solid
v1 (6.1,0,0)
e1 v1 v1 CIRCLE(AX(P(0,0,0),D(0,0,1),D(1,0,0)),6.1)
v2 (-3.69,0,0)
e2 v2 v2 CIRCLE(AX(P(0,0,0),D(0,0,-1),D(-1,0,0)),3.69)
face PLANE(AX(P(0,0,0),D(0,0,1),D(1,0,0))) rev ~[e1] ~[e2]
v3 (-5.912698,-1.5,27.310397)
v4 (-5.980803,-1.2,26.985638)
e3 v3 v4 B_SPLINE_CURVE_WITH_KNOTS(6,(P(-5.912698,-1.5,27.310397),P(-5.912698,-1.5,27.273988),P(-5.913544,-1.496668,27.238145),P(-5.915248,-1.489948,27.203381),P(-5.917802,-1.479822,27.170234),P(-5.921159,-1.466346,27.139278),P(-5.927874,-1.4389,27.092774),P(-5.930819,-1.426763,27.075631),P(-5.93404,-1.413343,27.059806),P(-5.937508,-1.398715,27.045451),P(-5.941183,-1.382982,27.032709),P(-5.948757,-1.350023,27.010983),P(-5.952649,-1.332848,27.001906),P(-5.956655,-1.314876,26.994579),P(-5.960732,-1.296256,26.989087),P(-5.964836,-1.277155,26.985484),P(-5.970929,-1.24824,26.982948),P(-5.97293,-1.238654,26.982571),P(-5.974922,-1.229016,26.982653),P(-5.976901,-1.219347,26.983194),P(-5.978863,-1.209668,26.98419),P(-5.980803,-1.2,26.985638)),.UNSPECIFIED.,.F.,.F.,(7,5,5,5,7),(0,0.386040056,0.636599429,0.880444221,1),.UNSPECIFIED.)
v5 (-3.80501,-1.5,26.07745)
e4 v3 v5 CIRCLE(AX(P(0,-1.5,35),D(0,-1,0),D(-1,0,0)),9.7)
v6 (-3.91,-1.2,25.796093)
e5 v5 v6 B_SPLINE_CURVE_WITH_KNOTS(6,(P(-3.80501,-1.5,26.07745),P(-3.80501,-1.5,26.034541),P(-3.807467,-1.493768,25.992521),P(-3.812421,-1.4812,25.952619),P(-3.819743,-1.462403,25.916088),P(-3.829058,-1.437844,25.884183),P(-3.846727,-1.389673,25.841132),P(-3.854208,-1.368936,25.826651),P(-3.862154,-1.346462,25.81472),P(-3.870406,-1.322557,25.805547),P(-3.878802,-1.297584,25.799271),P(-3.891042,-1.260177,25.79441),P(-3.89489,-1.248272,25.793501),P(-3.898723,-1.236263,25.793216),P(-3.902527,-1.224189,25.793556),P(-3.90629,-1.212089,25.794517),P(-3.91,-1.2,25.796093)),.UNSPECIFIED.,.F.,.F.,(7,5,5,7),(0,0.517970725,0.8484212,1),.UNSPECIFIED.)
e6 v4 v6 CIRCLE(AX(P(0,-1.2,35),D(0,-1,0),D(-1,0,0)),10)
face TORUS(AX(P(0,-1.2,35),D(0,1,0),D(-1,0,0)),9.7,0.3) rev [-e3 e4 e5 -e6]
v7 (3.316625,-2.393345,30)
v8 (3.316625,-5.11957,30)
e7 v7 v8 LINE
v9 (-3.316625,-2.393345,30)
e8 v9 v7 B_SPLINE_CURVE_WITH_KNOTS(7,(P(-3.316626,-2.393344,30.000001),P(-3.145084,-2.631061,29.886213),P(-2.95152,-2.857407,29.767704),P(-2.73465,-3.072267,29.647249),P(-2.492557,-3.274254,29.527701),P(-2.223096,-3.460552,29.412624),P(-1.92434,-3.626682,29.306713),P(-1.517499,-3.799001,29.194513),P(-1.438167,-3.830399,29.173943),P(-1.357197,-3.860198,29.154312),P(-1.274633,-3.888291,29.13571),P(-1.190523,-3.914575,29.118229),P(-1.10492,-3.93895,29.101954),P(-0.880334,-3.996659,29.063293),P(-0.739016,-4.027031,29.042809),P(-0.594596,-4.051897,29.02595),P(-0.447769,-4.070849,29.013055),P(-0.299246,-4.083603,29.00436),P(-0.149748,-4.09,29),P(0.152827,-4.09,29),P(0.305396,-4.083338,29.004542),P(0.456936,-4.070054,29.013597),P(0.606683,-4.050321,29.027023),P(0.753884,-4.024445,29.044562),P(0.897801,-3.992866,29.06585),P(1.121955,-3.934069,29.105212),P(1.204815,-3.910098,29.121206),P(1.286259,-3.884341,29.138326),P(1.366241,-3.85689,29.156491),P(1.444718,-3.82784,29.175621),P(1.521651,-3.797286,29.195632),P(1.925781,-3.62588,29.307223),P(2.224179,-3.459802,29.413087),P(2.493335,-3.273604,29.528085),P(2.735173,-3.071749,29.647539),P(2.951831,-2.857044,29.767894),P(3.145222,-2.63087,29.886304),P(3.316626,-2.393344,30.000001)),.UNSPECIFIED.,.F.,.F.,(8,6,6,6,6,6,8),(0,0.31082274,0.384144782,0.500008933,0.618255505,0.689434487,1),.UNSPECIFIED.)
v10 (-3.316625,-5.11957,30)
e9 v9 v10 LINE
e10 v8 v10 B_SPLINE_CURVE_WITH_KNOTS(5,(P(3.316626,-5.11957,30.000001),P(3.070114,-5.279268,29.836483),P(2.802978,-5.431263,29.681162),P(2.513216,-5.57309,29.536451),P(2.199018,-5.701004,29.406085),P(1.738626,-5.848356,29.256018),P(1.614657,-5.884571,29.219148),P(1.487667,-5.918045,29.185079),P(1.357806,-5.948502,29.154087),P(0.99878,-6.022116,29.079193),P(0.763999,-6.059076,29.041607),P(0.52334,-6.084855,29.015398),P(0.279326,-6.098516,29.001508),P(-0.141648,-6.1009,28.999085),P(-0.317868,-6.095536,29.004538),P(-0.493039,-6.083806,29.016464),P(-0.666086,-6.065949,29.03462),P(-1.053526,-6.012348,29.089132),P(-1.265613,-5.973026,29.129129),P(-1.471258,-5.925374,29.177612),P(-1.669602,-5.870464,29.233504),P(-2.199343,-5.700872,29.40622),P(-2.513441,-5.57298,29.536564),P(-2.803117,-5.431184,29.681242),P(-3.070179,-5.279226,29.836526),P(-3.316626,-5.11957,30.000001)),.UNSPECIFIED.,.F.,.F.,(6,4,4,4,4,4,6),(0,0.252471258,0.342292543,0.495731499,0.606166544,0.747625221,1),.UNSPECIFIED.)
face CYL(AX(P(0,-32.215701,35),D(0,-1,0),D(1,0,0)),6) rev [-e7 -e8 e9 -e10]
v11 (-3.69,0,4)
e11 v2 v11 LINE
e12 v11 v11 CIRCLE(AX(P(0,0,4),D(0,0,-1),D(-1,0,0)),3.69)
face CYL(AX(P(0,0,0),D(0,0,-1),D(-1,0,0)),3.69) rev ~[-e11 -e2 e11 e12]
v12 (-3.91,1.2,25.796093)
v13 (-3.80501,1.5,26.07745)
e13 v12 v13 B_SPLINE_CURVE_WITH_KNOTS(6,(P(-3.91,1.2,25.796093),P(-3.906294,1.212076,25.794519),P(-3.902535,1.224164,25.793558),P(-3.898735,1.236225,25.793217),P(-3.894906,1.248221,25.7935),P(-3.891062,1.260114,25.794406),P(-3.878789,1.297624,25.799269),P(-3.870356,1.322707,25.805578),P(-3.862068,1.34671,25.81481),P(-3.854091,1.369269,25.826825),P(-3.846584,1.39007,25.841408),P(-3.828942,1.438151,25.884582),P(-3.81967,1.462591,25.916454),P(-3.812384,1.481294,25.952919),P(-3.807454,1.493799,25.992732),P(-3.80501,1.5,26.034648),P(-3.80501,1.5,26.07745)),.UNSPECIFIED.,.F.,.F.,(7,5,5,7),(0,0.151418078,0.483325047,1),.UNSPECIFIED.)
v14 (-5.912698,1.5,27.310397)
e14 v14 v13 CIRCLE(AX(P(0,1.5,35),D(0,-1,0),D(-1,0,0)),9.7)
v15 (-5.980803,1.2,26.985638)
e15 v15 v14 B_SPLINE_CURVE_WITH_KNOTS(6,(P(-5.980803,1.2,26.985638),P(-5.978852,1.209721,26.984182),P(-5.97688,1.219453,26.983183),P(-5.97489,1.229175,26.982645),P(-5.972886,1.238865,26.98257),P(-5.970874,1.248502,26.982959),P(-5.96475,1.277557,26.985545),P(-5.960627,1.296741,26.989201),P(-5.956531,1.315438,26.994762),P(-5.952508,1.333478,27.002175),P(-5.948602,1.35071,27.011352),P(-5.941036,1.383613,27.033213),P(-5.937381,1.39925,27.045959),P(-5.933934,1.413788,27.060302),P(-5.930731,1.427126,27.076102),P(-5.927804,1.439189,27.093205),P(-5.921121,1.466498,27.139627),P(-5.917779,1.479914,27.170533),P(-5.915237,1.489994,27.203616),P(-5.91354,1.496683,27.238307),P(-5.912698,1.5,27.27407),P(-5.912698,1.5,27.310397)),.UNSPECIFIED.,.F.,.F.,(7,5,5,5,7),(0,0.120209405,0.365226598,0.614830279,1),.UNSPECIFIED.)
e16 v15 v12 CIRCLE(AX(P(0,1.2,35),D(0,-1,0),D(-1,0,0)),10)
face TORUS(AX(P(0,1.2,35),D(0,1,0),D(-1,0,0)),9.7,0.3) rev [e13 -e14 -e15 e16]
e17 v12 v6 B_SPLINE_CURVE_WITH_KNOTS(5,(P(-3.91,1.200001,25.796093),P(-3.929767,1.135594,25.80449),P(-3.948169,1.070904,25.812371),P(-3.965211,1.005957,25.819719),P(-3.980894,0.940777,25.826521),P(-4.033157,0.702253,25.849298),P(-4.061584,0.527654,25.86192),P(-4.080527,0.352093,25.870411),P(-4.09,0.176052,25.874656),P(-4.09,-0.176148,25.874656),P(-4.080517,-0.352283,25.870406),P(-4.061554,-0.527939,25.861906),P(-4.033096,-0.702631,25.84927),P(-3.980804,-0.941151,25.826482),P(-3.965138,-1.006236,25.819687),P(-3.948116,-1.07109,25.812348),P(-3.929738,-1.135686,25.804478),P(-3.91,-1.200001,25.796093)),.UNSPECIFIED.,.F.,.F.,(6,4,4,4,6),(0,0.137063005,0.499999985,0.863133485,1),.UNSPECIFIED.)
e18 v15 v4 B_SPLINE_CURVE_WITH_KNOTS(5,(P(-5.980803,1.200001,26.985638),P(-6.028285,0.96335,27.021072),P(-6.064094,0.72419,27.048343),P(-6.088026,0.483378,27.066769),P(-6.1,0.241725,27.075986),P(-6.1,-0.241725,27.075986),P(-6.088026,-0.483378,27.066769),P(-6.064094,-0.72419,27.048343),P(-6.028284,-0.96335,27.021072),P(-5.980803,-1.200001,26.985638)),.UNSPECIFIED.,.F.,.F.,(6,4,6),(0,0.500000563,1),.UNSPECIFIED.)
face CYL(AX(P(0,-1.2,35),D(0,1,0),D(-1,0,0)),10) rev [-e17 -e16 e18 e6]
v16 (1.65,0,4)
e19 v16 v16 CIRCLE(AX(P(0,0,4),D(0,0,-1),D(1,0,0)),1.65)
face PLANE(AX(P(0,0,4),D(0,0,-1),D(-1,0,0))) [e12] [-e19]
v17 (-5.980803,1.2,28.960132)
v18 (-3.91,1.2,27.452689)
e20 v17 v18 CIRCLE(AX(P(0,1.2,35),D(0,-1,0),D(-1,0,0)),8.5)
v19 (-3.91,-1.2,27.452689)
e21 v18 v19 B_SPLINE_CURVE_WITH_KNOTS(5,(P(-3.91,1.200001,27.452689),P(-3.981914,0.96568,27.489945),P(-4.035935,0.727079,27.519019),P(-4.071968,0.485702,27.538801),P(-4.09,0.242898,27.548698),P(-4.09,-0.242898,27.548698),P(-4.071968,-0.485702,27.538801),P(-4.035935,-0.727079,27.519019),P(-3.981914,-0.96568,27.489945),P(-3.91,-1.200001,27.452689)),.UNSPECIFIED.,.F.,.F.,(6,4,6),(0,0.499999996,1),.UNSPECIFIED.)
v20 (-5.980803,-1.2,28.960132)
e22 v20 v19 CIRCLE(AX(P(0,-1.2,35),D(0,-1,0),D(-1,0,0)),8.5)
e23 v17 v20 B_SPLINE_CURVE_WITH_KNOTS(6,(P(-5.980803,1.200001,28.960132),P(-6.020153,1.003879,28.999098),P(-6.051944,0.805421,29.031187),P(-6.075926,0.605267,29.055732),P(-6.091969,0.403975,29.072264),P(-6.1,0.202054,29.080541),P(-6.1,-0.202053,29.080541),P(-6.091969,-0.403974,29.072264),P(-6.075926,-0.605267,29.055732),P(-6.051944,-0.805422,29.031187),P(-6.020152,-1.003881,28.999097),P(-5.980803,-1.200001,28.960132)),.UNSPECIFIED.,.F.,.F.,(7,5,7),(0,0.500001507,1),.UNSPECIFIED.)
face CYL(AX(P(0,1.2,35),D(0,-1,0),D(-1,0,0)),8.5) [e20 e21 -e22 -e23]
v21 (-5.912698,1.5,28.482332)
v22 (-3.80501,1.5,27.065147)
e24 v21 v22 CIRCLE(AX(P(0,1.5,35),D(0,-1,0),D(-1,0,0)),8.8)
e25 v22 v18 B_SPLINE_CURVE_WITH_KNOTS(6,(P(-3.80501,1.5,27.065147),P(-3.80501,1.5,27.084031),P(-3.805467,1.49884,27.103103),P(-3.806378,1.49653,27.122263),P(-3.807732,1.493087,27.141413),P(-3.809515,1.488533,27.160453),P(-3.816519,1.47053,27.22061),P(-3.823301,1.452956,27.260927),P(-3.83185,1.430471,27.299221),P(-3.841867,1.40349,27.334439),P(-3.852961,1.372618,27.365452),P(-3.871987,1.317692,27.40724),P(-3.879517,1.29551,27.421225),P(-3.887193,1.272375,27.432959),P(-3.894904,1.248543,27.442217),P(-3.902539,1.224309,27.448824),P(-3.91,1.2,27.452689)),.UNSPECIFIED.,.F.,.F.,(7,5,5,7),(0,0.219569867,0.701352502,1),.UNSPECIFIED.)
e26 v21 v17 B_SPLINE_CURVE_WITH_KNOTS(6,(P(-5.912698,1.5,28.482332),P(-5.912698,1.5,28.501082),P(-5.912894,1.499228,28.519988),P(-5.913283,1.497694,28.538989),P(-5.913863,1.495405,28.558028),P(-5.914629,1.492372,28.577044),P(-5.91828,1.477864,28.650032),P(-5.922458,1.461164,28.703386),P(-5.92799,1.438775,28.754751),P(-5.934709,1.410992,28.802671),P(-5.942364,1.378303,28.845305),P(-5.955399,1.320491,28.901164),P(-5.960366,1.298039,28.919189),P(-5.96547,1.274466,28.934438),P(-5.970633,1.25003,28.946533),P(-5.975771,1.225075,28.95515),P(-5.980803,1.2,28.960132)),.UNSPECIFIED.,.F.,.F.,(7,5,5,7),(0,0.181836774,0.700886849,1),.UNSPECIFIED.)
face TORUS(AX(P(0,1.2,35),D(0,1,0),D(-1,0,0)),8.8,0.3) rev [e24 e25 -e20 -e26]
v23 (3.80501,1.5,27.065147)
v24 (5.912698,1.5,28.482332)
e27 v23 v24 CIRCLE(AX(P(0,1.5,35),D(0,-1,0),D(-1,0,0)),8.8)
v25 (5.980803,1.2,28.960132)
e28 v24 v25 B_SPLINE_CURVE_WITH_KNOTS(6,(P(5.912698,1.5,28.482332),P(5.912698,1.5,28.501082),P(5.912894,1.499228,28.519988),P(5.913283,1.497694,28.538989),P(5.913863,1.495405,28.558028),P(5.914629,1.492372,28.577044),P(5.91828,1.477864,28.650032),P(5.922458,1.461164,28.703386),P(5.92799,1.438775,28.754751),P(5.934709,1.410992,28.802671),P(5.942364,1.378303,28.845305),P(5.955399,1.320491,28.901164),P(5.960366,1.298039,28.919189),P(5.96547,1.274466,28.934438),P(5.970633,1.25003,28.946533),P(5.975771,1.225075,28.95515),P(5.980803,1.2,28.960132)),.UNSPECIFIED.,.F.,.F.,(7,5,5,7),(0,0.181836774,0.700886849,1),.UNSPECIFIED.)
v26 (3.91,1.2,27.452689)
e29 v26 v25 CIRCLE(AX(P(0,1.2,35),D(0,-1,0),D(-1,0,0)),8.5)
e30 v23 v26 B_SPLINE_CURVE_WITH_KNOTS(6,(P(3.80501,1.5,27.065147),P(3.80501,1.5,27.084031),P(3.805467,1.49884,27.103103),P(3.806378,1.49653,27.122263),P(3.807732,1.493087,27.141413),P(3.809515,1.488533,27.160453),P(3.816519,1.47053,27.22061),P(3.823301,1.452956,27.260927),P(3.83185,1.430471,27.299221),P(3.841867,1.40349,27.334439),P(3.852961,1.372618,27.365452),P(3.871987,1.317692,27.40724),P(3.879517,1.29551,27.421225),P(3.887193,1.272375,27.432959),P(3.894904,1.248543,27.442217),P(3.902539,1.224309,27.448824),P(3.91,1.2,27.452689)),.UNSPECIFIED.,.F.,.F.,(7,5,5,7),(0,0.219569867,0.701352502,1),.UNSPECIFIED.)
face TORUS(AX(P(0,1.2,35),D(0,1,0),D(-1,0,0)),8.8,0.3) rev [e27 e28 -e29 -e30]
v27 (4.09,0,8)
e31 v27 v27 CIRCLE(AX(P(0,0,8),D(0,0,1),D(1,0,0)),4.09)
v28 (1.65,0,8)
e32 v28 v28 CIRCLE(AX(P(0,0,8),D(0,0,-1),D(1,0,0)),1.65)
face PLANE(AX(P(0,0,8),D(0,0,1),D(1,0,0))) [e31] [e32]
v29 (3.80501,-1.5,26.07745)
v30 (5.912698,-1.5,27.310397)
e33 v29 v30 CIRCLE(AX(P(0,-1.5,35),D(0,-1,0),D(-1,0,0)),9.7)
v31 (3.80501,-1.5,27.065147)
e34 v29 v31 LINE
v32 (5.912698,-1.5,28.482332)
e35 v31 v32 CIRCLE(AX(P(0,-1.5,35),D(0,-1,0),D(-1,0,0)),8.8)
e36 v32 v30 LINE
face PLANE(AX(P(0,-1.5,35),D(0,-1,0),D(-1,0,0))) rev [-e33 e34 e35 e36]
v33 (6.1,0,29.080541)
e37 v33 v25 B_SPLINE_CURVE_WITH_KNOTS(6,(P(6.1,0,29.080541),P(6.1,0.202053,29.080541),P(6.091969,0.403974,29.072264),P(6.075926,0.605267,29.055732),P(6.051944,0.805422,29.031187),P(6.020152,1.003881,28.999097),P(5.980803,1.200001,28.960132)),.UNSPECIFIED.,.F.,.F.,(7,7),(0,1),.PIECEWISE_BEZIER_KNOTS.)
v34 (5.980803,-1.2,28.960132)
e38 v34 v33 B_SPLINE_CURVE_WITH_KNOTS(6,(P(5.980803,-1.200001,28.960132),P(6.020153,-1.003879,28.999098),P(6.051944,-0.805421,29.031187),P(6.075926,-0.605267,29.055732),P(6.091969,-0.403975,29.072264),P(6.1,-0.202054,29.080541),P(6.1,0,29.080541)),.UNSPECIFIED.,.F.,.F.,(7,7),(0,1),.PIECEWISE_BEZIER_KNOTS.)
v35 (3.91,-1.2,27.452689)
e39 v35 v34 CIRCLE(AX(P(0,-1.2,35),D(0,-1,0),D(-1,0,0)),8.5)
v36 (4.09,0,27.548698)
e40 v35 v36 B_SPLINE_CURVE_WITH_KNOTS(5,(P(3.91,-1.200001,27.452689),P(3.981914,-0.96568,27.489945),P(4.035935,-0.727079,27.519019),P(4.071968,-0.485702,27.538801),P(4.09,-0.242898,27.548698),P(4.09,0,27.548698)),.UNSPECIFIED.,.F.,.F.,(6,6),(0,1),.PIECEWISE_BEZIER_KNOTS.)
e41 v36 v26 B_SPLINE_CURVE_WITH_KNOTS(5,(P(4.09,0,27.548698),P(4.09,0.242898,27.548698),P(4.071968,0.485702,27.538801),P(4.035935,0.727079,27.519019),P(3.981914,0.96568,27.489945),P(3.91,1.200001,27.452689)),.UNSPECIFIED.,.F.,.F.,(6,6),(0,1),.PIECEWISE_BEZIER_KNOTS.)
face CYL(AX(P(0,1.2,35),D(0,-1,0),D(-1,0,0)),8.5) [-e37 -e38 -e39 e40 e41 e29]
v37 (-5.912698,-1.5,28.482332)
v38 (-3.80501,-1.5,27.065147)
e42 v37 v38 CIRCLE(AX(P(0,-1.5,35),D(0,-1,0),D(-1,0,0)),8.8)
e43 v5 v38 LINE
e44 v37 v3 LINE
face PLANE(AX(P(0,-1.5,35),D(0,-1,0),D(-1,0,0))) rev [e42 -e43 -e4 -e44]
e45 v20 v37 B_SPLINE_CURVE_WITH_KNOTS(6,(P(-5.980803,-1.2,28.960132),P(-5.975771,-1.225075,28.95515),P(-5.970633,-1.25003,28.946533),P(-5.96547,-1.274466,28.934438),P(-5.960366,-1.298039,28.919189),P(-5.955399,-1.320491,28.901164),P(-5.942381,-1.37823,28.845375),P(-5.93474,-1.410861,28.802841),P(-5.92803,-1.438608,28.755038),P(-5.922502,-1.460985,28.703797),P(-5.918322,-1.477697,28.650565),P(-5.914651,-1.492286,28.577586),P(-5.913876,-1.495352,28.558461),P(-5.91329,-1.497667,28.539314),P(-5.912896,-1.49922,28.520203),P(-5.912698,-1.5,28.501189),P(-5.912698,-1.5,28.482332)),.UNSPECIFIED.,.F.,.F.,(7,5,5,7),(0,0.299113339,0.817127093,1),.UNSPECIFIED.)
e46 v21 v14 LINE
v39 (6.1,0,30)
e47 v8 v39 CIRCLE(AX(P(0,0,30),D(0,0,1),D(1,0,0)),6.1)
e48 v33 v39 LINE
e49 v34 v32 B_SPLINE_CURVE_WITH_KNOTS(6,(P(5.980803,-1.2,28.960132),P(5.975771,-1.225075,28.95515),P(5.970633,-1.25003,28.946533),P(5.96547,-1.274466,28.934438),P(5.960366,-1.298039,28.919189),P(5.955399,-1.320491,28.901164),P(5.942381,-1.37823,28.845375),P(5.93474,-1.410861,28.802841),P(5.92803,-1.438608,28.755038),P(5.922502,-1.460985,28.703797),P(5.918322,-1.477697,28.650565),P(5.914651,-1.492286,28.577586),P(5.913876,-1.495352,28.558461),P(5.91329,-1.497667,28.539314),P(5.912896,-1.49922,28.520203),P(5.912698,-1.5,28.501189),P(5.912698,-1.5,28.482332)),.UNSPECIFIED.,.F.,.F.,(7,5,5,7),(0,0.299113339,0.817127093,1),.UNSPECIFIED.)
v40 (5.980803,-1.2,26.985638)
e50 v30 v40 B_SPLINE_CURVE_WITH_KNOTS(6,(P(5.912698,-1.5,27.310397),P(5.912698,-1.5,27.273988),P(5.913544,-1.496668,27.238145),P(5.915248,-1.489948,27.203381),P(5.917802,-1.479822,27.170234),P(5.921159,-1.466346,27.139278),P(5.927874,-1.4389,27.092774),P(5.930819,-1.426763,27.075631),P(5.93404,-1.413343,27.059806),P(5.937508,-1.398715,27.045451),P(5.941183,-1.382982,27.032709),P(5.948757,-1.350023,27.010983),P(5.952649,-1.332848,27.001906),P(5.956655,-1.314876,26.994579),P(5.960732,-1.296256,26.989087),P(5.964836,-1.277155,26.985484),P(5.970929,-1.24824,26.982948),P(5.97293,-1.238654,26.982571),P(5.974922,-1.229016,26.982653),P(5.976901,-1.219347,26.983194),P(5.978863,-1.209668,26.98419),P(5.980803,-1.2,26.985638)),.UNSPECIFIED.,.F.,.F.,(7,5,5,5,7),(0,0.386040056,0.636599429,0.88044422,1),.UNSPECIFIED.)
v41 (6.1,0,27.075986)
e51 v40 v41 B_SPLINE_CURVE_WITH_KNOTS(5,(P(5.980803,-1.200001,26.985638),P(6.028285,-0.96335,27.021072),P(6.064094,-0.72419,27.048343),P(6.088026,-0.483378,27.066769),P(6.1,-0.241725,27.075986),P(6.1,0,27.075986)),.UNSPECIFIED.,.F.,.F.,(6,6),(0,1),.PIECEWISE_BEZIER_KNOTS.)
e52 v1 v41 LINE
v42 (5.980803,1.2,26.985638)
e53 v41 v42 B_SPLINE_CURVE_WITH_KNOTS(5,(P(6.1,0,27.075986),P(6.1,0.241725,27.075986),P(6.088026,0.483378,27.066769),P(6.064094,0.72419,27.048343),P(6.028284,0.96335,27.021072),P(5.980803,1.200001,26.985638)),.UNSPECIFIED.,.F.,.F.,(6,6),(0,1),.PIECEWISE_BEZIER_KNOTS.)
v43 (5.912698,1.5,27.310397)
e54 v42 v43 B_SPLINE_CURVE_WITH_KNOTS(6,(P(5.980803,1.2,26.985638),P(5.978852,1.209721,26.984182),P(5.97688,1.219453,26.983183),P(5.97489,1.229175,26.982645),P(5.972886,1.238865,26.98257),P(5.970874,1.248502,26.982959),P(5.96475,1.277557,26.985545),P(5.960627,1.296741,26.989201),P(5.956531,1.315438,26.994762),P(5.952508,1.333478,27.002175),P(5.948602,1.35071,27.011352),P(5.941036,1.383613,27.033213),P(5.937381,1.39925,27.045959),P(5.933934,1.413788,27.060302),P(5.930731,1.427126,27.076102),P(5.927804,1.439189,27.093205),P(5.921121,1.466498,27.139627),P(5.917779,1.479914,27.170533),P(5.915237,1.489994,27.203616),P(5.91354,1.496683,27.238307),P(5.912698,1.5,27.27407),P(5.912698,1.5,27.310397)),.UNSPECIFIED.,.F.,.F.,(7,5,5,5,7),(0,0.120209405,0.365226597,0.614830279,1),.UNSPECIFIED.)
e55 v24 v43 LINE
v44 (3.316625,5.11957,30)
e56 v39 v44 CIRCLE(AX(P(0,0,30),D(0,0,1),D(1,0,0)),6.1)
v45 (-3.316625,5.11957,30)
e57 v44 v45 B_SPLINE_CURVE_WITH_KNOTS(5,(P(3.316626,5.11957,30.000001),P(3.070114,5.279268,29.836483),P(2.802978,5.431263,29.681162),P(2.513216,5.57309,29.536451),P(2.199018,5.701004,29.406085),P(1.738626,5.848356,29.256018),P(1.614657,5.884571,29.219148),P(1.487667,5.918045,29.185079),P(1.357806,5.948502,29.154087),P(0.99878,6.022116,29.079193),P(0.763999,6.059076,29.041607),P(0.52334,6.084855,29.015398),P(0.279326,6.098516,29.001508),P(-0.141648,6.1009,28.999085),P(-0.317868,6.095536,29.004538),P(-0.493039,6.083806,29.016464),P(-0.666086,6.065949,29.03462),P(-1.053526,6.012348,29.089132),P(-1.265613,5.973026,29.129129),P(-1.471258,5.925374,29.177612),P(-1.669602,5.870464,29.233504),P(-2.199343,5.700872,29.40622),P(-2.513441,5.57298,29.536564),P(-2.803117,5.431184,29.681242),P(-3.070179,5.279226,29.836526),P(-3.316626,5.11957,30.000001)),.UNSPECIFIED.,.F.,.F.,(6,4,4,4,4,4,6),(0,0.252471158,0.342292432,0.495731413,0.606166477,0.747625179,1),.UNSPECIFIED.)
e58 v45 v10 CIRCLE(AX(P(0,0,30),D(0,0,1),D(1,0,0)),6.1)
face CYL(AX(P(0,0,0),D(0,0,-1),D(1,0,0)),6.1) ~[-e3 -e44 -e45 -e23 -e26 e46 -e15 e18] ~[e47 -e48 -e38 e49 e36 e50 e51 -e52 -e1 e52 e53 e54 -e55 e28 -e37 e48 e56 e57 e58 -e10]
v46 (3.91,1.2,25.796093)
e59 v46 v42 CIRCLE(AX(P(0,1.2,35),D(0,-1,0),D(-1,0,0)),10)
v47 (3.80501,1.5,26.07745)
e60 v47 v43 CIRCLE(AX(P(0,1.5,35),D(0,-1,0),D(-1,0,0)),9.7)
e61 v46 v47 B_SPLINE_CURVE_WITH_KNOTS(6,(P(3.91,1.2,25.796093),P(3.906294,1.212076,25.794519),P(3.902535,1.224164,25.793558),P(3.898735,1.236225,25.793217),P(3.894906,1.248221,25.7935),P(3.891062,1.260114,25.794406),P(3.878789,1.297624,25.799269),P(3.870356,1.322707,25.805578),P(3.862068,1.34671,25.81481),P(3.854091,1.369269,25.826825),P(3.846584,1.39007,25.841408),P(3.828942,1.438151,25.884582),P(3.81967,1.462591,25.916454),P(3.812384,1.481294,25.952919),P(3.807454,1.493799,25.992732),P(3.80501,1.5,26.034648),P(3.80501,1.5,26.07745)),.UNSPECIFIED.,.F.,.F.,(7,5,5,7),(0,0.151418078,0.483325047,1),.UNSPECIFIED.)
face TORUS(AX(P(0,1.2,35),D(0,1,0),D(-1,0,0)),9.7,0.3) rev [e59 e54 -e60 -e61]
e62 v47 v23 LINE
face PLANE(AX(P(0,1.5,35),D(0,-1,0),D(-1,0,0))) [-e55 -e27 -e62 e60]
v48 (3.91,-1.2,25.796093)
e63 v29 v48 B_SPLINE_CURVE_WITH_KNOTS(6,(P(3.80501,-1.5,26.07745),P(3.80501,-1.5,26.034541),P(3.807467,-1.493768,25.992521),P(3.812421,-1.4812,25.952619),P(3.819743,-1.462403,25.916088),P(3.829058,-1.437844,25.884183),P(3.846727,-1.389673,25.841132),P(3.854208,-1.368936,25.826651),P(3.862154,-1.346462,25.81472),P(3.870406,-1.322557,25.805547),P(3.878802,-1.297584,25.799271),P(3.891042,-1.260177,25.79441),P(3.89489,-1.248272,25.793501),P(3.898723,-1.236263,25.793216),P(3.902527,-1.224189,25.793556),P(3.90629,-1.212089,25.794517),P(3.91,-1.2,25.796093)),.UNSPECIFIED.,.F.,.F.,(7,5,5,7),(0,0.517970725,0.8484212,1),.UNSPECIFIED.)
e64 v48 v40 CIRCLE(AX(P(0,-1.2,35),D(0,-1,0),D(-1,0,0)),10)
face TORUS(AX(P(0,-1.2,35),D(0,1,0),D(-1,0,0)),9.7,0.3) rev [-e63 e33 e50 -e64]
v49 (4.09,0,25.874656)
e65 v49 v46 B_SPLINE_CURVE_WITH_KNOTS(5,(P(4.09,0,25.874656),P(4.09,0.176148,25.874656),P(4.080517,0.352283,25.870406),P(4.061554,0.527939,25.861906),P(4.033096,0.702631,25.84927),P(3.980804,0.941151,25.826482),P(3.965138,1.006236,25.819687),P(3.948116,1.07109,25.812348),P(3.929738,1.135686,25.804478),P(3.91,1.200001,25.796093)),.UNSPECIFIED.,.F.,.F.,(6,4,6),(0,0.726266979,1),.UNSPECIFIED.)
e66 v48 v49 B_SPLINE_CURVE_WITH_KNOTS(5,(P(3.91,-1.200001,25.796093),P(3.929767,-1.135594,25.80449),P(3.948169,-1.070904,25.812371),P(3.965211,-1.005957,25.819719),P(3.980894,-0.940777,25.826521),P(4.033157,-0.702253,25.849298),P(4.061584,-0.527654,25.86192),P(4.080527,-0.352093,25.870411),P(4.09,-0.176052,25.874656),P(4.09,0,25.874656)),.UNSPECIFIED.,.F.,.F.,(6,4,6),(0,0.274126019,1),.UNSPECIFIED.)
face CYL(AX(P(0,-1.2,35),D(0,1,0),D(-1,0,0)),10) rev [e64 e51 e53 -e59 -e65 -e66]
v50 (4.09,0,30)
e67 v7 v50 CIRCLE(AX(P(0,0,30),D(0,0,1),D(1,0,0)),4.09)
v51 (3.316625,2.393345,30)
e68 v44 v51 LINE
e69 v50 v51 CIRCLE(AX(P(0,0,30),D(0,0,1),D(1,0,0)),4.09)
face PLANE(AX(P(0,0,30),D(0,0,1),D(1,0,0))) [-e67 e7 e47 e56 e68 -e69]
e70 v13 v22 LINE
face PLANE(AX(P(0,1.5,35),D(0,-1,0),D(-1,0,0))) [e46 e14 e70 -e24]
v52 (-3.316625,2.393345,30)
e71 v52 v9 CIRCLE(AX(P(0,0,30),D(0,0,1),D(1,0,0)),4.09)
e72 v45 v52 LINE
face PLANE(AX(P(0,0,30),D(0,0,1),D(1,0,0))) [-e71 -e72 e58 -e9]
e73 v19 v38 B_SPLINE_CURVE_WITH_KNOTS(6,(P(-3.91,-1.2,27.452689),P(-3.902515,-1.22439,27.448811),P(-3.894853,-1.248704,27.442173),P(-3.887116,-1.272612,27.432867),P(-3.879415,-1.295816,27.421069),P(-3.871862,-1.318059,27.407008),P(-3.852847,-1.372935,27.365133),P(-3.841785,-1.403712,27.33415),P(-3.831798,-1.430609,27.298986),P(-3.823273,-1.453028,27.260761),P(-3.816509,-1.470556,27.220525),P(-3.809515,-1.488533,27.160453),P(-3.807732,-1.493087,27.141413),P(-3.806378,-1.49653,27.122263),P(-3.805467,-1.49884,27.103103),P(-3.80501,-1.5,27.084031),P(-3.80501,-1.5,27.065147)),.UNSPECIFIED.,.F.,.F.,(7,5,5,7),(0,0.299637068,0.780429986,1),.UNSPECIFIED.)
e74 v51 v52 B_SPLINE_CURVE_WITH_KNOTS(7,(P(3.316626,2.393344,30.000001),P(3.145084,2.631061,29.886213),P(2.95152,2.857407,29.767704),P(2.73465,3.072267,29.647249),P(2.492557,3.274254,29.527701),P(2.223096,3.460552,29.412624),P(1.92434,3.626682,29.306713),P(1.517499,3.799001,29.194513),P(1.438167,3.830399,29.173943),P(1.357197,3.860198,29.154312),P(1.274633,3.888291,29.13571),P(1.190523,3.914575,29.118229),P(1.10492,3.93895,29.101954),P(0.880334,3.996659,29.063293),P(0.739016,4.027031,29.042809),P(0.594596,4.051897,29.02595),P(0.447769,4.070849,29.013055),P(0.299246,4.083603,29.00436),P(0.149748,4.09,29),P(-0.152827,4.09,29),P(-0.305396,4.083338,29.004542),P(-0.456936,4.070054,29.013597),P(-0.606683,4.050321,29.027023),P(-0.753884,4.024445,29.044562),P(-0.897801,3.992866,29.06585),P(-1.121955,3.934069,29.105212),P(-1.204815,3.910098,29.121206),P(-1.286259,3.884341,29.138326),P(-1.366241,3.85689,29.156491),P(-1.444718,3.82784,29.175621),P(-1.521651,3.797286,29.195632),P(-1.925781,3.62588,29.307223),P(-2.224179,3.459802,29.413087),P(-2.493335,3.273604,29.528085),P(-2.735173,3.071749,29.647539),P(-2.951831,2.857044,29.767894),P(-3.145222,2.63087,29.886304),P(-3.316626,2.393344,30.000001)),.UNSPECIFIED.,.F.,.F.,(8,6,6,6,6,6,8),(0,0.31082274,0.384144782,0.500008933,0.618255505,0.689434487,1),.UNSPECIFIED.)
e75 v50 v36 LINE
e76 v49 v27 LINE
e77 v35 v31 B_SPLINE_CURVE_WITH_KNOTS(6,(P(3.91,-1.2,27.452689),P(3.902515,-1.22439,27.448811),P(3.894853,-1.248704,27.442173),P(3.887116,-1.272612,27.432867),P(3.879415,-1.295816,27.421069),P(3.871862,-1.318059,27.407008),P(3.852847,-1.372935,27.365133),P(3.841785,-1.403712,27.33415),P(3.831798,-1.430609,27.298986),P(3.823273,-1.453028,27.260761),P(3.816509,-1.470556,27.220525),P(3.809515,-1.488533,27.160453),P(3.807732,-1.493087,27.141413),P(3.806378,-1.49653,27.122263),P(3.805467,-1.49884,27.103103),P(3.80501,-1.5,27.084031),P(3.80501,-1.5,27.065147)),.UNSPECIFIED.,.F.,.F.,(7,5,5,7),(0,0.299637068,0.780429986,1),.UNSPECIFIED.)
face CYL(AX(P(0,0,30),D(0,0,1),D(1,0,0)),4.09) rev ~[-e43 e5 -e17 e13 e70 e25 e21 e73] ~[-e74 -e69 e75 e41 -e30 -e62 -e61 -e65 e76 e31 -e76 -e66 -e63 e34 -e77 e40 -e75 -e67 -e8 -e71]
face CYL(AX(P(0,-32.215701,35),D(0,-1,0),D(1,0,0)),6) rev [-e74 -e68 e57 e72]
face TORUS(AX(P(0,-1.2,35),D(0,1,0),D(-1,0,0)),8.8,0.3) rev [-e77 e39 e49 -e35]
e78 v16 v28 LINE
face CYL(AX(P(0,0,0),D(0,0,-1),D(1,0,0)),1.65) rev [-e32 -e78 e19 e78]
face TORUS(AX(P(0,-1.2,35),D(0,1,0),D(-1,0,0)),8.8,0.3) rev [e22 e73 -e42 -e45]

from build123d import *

# Parameters (mm, degrees)
SKETCH1_R               = 6.1
SKETCH1_R_2             = 1.65
BOSS_EXTRUDE1_DEPTH     = 30
SKETCH2_R               = 3.69
CUT_EXTRUDE1_DEPTH      = 4
SKETCH3_R               = 4.09
CUT_EXTRUDE3_DEPTH      = 22
CUT_EXTRUDE4_DEPTH      = 32.215701177
CUT_EXTRUDE4_DEPTH_BACK = 32.215701177
SKETCH4_R               = 6


with BuildPart() as part:
    # Sketch1 → Boss-Extrude1 (new body)
    with BuildSketch(Plane.XY):
        Circle(SKETCH1_R)
        Circle(SKETCH1_R_2, mode=Mode.SUBTRACT)
    extrude(amount=BOSS_EXTRUDE1_DEPTH)

    # Sketch2 → Cut-Extrude1 (cut)
    with BuildSketch(Plane(origin=(0, 0, 0), x_dir=(-1, 0, 0), z_dir=(0, 0, -1))):
        Circle(SKETCH2_R)
    extrude(amount=-CUT_EXTRUDE1_DEPTH, mode=Mode.SUBTRACT)

    # Sketch3 → Cut-Extrude3 (cut)
    with BuildSketch(Plane.XY.offset(30)):
        Circle(SKETCH3_R)
    extrude(amount=-CUT_EXTRUDE3_DEPTH, mode=Mode.SUBTRACT)

    # Sketch4 → Cut-Extrude4 (cut, two sides: drawn at the far end of the back side and taken through both)
    with BuildSketch(Plane(origin=(0, 0, 0), x_dir=(1, 0, 0), z_dir=(0, 1, 0)).offset(-CUT_EXTRUDE4_DEPTH_BACK)):
        with Locations((0, -35)):
            Circle(SKETCH4_R)
    extrude(amount=CUT_EXTRUDE4_DEPTH + CUT_EXTRUDE4_DEPTH_BACK, mode=Mode.SUBTRACT)

    # Sketch7 → Cut-Revolve1 (revolve, cut)
    with BuildSketch(Plane.XY.offset(35)):
        with BuildLine():
            Line((-9.7, 1.5), (-8.8, 1.5))
            ThreePointArc((-8.8, 1.5), (-8.587867966, 1.412132034), (-8.5, 1.2))
            Line((-8.5, 1.2), (-8.5, -1.2))
            ThreePointArc((-8.5, -1.2), (-8.587867966, -1.412132034), (-8.8, -1.5))
            Line((-8.8, -1.5), (-9.7, -1.5))
            ThreePointArc((-9.7, -1.5), (-9.912132034, -1.412132034), (-10, -1.2))
            Line((-10, -1.2), (-10, 1.2))
            ThreePointArc((-10, 1.2), (-9.912132034, 1.412132034), (-9.7, 1.5))
        make_face()
    revolve(axis=Axis((0, 6.1, 35), (0, -1, 0)), mode=Mode.SUBTRACT)


solid = part.part
